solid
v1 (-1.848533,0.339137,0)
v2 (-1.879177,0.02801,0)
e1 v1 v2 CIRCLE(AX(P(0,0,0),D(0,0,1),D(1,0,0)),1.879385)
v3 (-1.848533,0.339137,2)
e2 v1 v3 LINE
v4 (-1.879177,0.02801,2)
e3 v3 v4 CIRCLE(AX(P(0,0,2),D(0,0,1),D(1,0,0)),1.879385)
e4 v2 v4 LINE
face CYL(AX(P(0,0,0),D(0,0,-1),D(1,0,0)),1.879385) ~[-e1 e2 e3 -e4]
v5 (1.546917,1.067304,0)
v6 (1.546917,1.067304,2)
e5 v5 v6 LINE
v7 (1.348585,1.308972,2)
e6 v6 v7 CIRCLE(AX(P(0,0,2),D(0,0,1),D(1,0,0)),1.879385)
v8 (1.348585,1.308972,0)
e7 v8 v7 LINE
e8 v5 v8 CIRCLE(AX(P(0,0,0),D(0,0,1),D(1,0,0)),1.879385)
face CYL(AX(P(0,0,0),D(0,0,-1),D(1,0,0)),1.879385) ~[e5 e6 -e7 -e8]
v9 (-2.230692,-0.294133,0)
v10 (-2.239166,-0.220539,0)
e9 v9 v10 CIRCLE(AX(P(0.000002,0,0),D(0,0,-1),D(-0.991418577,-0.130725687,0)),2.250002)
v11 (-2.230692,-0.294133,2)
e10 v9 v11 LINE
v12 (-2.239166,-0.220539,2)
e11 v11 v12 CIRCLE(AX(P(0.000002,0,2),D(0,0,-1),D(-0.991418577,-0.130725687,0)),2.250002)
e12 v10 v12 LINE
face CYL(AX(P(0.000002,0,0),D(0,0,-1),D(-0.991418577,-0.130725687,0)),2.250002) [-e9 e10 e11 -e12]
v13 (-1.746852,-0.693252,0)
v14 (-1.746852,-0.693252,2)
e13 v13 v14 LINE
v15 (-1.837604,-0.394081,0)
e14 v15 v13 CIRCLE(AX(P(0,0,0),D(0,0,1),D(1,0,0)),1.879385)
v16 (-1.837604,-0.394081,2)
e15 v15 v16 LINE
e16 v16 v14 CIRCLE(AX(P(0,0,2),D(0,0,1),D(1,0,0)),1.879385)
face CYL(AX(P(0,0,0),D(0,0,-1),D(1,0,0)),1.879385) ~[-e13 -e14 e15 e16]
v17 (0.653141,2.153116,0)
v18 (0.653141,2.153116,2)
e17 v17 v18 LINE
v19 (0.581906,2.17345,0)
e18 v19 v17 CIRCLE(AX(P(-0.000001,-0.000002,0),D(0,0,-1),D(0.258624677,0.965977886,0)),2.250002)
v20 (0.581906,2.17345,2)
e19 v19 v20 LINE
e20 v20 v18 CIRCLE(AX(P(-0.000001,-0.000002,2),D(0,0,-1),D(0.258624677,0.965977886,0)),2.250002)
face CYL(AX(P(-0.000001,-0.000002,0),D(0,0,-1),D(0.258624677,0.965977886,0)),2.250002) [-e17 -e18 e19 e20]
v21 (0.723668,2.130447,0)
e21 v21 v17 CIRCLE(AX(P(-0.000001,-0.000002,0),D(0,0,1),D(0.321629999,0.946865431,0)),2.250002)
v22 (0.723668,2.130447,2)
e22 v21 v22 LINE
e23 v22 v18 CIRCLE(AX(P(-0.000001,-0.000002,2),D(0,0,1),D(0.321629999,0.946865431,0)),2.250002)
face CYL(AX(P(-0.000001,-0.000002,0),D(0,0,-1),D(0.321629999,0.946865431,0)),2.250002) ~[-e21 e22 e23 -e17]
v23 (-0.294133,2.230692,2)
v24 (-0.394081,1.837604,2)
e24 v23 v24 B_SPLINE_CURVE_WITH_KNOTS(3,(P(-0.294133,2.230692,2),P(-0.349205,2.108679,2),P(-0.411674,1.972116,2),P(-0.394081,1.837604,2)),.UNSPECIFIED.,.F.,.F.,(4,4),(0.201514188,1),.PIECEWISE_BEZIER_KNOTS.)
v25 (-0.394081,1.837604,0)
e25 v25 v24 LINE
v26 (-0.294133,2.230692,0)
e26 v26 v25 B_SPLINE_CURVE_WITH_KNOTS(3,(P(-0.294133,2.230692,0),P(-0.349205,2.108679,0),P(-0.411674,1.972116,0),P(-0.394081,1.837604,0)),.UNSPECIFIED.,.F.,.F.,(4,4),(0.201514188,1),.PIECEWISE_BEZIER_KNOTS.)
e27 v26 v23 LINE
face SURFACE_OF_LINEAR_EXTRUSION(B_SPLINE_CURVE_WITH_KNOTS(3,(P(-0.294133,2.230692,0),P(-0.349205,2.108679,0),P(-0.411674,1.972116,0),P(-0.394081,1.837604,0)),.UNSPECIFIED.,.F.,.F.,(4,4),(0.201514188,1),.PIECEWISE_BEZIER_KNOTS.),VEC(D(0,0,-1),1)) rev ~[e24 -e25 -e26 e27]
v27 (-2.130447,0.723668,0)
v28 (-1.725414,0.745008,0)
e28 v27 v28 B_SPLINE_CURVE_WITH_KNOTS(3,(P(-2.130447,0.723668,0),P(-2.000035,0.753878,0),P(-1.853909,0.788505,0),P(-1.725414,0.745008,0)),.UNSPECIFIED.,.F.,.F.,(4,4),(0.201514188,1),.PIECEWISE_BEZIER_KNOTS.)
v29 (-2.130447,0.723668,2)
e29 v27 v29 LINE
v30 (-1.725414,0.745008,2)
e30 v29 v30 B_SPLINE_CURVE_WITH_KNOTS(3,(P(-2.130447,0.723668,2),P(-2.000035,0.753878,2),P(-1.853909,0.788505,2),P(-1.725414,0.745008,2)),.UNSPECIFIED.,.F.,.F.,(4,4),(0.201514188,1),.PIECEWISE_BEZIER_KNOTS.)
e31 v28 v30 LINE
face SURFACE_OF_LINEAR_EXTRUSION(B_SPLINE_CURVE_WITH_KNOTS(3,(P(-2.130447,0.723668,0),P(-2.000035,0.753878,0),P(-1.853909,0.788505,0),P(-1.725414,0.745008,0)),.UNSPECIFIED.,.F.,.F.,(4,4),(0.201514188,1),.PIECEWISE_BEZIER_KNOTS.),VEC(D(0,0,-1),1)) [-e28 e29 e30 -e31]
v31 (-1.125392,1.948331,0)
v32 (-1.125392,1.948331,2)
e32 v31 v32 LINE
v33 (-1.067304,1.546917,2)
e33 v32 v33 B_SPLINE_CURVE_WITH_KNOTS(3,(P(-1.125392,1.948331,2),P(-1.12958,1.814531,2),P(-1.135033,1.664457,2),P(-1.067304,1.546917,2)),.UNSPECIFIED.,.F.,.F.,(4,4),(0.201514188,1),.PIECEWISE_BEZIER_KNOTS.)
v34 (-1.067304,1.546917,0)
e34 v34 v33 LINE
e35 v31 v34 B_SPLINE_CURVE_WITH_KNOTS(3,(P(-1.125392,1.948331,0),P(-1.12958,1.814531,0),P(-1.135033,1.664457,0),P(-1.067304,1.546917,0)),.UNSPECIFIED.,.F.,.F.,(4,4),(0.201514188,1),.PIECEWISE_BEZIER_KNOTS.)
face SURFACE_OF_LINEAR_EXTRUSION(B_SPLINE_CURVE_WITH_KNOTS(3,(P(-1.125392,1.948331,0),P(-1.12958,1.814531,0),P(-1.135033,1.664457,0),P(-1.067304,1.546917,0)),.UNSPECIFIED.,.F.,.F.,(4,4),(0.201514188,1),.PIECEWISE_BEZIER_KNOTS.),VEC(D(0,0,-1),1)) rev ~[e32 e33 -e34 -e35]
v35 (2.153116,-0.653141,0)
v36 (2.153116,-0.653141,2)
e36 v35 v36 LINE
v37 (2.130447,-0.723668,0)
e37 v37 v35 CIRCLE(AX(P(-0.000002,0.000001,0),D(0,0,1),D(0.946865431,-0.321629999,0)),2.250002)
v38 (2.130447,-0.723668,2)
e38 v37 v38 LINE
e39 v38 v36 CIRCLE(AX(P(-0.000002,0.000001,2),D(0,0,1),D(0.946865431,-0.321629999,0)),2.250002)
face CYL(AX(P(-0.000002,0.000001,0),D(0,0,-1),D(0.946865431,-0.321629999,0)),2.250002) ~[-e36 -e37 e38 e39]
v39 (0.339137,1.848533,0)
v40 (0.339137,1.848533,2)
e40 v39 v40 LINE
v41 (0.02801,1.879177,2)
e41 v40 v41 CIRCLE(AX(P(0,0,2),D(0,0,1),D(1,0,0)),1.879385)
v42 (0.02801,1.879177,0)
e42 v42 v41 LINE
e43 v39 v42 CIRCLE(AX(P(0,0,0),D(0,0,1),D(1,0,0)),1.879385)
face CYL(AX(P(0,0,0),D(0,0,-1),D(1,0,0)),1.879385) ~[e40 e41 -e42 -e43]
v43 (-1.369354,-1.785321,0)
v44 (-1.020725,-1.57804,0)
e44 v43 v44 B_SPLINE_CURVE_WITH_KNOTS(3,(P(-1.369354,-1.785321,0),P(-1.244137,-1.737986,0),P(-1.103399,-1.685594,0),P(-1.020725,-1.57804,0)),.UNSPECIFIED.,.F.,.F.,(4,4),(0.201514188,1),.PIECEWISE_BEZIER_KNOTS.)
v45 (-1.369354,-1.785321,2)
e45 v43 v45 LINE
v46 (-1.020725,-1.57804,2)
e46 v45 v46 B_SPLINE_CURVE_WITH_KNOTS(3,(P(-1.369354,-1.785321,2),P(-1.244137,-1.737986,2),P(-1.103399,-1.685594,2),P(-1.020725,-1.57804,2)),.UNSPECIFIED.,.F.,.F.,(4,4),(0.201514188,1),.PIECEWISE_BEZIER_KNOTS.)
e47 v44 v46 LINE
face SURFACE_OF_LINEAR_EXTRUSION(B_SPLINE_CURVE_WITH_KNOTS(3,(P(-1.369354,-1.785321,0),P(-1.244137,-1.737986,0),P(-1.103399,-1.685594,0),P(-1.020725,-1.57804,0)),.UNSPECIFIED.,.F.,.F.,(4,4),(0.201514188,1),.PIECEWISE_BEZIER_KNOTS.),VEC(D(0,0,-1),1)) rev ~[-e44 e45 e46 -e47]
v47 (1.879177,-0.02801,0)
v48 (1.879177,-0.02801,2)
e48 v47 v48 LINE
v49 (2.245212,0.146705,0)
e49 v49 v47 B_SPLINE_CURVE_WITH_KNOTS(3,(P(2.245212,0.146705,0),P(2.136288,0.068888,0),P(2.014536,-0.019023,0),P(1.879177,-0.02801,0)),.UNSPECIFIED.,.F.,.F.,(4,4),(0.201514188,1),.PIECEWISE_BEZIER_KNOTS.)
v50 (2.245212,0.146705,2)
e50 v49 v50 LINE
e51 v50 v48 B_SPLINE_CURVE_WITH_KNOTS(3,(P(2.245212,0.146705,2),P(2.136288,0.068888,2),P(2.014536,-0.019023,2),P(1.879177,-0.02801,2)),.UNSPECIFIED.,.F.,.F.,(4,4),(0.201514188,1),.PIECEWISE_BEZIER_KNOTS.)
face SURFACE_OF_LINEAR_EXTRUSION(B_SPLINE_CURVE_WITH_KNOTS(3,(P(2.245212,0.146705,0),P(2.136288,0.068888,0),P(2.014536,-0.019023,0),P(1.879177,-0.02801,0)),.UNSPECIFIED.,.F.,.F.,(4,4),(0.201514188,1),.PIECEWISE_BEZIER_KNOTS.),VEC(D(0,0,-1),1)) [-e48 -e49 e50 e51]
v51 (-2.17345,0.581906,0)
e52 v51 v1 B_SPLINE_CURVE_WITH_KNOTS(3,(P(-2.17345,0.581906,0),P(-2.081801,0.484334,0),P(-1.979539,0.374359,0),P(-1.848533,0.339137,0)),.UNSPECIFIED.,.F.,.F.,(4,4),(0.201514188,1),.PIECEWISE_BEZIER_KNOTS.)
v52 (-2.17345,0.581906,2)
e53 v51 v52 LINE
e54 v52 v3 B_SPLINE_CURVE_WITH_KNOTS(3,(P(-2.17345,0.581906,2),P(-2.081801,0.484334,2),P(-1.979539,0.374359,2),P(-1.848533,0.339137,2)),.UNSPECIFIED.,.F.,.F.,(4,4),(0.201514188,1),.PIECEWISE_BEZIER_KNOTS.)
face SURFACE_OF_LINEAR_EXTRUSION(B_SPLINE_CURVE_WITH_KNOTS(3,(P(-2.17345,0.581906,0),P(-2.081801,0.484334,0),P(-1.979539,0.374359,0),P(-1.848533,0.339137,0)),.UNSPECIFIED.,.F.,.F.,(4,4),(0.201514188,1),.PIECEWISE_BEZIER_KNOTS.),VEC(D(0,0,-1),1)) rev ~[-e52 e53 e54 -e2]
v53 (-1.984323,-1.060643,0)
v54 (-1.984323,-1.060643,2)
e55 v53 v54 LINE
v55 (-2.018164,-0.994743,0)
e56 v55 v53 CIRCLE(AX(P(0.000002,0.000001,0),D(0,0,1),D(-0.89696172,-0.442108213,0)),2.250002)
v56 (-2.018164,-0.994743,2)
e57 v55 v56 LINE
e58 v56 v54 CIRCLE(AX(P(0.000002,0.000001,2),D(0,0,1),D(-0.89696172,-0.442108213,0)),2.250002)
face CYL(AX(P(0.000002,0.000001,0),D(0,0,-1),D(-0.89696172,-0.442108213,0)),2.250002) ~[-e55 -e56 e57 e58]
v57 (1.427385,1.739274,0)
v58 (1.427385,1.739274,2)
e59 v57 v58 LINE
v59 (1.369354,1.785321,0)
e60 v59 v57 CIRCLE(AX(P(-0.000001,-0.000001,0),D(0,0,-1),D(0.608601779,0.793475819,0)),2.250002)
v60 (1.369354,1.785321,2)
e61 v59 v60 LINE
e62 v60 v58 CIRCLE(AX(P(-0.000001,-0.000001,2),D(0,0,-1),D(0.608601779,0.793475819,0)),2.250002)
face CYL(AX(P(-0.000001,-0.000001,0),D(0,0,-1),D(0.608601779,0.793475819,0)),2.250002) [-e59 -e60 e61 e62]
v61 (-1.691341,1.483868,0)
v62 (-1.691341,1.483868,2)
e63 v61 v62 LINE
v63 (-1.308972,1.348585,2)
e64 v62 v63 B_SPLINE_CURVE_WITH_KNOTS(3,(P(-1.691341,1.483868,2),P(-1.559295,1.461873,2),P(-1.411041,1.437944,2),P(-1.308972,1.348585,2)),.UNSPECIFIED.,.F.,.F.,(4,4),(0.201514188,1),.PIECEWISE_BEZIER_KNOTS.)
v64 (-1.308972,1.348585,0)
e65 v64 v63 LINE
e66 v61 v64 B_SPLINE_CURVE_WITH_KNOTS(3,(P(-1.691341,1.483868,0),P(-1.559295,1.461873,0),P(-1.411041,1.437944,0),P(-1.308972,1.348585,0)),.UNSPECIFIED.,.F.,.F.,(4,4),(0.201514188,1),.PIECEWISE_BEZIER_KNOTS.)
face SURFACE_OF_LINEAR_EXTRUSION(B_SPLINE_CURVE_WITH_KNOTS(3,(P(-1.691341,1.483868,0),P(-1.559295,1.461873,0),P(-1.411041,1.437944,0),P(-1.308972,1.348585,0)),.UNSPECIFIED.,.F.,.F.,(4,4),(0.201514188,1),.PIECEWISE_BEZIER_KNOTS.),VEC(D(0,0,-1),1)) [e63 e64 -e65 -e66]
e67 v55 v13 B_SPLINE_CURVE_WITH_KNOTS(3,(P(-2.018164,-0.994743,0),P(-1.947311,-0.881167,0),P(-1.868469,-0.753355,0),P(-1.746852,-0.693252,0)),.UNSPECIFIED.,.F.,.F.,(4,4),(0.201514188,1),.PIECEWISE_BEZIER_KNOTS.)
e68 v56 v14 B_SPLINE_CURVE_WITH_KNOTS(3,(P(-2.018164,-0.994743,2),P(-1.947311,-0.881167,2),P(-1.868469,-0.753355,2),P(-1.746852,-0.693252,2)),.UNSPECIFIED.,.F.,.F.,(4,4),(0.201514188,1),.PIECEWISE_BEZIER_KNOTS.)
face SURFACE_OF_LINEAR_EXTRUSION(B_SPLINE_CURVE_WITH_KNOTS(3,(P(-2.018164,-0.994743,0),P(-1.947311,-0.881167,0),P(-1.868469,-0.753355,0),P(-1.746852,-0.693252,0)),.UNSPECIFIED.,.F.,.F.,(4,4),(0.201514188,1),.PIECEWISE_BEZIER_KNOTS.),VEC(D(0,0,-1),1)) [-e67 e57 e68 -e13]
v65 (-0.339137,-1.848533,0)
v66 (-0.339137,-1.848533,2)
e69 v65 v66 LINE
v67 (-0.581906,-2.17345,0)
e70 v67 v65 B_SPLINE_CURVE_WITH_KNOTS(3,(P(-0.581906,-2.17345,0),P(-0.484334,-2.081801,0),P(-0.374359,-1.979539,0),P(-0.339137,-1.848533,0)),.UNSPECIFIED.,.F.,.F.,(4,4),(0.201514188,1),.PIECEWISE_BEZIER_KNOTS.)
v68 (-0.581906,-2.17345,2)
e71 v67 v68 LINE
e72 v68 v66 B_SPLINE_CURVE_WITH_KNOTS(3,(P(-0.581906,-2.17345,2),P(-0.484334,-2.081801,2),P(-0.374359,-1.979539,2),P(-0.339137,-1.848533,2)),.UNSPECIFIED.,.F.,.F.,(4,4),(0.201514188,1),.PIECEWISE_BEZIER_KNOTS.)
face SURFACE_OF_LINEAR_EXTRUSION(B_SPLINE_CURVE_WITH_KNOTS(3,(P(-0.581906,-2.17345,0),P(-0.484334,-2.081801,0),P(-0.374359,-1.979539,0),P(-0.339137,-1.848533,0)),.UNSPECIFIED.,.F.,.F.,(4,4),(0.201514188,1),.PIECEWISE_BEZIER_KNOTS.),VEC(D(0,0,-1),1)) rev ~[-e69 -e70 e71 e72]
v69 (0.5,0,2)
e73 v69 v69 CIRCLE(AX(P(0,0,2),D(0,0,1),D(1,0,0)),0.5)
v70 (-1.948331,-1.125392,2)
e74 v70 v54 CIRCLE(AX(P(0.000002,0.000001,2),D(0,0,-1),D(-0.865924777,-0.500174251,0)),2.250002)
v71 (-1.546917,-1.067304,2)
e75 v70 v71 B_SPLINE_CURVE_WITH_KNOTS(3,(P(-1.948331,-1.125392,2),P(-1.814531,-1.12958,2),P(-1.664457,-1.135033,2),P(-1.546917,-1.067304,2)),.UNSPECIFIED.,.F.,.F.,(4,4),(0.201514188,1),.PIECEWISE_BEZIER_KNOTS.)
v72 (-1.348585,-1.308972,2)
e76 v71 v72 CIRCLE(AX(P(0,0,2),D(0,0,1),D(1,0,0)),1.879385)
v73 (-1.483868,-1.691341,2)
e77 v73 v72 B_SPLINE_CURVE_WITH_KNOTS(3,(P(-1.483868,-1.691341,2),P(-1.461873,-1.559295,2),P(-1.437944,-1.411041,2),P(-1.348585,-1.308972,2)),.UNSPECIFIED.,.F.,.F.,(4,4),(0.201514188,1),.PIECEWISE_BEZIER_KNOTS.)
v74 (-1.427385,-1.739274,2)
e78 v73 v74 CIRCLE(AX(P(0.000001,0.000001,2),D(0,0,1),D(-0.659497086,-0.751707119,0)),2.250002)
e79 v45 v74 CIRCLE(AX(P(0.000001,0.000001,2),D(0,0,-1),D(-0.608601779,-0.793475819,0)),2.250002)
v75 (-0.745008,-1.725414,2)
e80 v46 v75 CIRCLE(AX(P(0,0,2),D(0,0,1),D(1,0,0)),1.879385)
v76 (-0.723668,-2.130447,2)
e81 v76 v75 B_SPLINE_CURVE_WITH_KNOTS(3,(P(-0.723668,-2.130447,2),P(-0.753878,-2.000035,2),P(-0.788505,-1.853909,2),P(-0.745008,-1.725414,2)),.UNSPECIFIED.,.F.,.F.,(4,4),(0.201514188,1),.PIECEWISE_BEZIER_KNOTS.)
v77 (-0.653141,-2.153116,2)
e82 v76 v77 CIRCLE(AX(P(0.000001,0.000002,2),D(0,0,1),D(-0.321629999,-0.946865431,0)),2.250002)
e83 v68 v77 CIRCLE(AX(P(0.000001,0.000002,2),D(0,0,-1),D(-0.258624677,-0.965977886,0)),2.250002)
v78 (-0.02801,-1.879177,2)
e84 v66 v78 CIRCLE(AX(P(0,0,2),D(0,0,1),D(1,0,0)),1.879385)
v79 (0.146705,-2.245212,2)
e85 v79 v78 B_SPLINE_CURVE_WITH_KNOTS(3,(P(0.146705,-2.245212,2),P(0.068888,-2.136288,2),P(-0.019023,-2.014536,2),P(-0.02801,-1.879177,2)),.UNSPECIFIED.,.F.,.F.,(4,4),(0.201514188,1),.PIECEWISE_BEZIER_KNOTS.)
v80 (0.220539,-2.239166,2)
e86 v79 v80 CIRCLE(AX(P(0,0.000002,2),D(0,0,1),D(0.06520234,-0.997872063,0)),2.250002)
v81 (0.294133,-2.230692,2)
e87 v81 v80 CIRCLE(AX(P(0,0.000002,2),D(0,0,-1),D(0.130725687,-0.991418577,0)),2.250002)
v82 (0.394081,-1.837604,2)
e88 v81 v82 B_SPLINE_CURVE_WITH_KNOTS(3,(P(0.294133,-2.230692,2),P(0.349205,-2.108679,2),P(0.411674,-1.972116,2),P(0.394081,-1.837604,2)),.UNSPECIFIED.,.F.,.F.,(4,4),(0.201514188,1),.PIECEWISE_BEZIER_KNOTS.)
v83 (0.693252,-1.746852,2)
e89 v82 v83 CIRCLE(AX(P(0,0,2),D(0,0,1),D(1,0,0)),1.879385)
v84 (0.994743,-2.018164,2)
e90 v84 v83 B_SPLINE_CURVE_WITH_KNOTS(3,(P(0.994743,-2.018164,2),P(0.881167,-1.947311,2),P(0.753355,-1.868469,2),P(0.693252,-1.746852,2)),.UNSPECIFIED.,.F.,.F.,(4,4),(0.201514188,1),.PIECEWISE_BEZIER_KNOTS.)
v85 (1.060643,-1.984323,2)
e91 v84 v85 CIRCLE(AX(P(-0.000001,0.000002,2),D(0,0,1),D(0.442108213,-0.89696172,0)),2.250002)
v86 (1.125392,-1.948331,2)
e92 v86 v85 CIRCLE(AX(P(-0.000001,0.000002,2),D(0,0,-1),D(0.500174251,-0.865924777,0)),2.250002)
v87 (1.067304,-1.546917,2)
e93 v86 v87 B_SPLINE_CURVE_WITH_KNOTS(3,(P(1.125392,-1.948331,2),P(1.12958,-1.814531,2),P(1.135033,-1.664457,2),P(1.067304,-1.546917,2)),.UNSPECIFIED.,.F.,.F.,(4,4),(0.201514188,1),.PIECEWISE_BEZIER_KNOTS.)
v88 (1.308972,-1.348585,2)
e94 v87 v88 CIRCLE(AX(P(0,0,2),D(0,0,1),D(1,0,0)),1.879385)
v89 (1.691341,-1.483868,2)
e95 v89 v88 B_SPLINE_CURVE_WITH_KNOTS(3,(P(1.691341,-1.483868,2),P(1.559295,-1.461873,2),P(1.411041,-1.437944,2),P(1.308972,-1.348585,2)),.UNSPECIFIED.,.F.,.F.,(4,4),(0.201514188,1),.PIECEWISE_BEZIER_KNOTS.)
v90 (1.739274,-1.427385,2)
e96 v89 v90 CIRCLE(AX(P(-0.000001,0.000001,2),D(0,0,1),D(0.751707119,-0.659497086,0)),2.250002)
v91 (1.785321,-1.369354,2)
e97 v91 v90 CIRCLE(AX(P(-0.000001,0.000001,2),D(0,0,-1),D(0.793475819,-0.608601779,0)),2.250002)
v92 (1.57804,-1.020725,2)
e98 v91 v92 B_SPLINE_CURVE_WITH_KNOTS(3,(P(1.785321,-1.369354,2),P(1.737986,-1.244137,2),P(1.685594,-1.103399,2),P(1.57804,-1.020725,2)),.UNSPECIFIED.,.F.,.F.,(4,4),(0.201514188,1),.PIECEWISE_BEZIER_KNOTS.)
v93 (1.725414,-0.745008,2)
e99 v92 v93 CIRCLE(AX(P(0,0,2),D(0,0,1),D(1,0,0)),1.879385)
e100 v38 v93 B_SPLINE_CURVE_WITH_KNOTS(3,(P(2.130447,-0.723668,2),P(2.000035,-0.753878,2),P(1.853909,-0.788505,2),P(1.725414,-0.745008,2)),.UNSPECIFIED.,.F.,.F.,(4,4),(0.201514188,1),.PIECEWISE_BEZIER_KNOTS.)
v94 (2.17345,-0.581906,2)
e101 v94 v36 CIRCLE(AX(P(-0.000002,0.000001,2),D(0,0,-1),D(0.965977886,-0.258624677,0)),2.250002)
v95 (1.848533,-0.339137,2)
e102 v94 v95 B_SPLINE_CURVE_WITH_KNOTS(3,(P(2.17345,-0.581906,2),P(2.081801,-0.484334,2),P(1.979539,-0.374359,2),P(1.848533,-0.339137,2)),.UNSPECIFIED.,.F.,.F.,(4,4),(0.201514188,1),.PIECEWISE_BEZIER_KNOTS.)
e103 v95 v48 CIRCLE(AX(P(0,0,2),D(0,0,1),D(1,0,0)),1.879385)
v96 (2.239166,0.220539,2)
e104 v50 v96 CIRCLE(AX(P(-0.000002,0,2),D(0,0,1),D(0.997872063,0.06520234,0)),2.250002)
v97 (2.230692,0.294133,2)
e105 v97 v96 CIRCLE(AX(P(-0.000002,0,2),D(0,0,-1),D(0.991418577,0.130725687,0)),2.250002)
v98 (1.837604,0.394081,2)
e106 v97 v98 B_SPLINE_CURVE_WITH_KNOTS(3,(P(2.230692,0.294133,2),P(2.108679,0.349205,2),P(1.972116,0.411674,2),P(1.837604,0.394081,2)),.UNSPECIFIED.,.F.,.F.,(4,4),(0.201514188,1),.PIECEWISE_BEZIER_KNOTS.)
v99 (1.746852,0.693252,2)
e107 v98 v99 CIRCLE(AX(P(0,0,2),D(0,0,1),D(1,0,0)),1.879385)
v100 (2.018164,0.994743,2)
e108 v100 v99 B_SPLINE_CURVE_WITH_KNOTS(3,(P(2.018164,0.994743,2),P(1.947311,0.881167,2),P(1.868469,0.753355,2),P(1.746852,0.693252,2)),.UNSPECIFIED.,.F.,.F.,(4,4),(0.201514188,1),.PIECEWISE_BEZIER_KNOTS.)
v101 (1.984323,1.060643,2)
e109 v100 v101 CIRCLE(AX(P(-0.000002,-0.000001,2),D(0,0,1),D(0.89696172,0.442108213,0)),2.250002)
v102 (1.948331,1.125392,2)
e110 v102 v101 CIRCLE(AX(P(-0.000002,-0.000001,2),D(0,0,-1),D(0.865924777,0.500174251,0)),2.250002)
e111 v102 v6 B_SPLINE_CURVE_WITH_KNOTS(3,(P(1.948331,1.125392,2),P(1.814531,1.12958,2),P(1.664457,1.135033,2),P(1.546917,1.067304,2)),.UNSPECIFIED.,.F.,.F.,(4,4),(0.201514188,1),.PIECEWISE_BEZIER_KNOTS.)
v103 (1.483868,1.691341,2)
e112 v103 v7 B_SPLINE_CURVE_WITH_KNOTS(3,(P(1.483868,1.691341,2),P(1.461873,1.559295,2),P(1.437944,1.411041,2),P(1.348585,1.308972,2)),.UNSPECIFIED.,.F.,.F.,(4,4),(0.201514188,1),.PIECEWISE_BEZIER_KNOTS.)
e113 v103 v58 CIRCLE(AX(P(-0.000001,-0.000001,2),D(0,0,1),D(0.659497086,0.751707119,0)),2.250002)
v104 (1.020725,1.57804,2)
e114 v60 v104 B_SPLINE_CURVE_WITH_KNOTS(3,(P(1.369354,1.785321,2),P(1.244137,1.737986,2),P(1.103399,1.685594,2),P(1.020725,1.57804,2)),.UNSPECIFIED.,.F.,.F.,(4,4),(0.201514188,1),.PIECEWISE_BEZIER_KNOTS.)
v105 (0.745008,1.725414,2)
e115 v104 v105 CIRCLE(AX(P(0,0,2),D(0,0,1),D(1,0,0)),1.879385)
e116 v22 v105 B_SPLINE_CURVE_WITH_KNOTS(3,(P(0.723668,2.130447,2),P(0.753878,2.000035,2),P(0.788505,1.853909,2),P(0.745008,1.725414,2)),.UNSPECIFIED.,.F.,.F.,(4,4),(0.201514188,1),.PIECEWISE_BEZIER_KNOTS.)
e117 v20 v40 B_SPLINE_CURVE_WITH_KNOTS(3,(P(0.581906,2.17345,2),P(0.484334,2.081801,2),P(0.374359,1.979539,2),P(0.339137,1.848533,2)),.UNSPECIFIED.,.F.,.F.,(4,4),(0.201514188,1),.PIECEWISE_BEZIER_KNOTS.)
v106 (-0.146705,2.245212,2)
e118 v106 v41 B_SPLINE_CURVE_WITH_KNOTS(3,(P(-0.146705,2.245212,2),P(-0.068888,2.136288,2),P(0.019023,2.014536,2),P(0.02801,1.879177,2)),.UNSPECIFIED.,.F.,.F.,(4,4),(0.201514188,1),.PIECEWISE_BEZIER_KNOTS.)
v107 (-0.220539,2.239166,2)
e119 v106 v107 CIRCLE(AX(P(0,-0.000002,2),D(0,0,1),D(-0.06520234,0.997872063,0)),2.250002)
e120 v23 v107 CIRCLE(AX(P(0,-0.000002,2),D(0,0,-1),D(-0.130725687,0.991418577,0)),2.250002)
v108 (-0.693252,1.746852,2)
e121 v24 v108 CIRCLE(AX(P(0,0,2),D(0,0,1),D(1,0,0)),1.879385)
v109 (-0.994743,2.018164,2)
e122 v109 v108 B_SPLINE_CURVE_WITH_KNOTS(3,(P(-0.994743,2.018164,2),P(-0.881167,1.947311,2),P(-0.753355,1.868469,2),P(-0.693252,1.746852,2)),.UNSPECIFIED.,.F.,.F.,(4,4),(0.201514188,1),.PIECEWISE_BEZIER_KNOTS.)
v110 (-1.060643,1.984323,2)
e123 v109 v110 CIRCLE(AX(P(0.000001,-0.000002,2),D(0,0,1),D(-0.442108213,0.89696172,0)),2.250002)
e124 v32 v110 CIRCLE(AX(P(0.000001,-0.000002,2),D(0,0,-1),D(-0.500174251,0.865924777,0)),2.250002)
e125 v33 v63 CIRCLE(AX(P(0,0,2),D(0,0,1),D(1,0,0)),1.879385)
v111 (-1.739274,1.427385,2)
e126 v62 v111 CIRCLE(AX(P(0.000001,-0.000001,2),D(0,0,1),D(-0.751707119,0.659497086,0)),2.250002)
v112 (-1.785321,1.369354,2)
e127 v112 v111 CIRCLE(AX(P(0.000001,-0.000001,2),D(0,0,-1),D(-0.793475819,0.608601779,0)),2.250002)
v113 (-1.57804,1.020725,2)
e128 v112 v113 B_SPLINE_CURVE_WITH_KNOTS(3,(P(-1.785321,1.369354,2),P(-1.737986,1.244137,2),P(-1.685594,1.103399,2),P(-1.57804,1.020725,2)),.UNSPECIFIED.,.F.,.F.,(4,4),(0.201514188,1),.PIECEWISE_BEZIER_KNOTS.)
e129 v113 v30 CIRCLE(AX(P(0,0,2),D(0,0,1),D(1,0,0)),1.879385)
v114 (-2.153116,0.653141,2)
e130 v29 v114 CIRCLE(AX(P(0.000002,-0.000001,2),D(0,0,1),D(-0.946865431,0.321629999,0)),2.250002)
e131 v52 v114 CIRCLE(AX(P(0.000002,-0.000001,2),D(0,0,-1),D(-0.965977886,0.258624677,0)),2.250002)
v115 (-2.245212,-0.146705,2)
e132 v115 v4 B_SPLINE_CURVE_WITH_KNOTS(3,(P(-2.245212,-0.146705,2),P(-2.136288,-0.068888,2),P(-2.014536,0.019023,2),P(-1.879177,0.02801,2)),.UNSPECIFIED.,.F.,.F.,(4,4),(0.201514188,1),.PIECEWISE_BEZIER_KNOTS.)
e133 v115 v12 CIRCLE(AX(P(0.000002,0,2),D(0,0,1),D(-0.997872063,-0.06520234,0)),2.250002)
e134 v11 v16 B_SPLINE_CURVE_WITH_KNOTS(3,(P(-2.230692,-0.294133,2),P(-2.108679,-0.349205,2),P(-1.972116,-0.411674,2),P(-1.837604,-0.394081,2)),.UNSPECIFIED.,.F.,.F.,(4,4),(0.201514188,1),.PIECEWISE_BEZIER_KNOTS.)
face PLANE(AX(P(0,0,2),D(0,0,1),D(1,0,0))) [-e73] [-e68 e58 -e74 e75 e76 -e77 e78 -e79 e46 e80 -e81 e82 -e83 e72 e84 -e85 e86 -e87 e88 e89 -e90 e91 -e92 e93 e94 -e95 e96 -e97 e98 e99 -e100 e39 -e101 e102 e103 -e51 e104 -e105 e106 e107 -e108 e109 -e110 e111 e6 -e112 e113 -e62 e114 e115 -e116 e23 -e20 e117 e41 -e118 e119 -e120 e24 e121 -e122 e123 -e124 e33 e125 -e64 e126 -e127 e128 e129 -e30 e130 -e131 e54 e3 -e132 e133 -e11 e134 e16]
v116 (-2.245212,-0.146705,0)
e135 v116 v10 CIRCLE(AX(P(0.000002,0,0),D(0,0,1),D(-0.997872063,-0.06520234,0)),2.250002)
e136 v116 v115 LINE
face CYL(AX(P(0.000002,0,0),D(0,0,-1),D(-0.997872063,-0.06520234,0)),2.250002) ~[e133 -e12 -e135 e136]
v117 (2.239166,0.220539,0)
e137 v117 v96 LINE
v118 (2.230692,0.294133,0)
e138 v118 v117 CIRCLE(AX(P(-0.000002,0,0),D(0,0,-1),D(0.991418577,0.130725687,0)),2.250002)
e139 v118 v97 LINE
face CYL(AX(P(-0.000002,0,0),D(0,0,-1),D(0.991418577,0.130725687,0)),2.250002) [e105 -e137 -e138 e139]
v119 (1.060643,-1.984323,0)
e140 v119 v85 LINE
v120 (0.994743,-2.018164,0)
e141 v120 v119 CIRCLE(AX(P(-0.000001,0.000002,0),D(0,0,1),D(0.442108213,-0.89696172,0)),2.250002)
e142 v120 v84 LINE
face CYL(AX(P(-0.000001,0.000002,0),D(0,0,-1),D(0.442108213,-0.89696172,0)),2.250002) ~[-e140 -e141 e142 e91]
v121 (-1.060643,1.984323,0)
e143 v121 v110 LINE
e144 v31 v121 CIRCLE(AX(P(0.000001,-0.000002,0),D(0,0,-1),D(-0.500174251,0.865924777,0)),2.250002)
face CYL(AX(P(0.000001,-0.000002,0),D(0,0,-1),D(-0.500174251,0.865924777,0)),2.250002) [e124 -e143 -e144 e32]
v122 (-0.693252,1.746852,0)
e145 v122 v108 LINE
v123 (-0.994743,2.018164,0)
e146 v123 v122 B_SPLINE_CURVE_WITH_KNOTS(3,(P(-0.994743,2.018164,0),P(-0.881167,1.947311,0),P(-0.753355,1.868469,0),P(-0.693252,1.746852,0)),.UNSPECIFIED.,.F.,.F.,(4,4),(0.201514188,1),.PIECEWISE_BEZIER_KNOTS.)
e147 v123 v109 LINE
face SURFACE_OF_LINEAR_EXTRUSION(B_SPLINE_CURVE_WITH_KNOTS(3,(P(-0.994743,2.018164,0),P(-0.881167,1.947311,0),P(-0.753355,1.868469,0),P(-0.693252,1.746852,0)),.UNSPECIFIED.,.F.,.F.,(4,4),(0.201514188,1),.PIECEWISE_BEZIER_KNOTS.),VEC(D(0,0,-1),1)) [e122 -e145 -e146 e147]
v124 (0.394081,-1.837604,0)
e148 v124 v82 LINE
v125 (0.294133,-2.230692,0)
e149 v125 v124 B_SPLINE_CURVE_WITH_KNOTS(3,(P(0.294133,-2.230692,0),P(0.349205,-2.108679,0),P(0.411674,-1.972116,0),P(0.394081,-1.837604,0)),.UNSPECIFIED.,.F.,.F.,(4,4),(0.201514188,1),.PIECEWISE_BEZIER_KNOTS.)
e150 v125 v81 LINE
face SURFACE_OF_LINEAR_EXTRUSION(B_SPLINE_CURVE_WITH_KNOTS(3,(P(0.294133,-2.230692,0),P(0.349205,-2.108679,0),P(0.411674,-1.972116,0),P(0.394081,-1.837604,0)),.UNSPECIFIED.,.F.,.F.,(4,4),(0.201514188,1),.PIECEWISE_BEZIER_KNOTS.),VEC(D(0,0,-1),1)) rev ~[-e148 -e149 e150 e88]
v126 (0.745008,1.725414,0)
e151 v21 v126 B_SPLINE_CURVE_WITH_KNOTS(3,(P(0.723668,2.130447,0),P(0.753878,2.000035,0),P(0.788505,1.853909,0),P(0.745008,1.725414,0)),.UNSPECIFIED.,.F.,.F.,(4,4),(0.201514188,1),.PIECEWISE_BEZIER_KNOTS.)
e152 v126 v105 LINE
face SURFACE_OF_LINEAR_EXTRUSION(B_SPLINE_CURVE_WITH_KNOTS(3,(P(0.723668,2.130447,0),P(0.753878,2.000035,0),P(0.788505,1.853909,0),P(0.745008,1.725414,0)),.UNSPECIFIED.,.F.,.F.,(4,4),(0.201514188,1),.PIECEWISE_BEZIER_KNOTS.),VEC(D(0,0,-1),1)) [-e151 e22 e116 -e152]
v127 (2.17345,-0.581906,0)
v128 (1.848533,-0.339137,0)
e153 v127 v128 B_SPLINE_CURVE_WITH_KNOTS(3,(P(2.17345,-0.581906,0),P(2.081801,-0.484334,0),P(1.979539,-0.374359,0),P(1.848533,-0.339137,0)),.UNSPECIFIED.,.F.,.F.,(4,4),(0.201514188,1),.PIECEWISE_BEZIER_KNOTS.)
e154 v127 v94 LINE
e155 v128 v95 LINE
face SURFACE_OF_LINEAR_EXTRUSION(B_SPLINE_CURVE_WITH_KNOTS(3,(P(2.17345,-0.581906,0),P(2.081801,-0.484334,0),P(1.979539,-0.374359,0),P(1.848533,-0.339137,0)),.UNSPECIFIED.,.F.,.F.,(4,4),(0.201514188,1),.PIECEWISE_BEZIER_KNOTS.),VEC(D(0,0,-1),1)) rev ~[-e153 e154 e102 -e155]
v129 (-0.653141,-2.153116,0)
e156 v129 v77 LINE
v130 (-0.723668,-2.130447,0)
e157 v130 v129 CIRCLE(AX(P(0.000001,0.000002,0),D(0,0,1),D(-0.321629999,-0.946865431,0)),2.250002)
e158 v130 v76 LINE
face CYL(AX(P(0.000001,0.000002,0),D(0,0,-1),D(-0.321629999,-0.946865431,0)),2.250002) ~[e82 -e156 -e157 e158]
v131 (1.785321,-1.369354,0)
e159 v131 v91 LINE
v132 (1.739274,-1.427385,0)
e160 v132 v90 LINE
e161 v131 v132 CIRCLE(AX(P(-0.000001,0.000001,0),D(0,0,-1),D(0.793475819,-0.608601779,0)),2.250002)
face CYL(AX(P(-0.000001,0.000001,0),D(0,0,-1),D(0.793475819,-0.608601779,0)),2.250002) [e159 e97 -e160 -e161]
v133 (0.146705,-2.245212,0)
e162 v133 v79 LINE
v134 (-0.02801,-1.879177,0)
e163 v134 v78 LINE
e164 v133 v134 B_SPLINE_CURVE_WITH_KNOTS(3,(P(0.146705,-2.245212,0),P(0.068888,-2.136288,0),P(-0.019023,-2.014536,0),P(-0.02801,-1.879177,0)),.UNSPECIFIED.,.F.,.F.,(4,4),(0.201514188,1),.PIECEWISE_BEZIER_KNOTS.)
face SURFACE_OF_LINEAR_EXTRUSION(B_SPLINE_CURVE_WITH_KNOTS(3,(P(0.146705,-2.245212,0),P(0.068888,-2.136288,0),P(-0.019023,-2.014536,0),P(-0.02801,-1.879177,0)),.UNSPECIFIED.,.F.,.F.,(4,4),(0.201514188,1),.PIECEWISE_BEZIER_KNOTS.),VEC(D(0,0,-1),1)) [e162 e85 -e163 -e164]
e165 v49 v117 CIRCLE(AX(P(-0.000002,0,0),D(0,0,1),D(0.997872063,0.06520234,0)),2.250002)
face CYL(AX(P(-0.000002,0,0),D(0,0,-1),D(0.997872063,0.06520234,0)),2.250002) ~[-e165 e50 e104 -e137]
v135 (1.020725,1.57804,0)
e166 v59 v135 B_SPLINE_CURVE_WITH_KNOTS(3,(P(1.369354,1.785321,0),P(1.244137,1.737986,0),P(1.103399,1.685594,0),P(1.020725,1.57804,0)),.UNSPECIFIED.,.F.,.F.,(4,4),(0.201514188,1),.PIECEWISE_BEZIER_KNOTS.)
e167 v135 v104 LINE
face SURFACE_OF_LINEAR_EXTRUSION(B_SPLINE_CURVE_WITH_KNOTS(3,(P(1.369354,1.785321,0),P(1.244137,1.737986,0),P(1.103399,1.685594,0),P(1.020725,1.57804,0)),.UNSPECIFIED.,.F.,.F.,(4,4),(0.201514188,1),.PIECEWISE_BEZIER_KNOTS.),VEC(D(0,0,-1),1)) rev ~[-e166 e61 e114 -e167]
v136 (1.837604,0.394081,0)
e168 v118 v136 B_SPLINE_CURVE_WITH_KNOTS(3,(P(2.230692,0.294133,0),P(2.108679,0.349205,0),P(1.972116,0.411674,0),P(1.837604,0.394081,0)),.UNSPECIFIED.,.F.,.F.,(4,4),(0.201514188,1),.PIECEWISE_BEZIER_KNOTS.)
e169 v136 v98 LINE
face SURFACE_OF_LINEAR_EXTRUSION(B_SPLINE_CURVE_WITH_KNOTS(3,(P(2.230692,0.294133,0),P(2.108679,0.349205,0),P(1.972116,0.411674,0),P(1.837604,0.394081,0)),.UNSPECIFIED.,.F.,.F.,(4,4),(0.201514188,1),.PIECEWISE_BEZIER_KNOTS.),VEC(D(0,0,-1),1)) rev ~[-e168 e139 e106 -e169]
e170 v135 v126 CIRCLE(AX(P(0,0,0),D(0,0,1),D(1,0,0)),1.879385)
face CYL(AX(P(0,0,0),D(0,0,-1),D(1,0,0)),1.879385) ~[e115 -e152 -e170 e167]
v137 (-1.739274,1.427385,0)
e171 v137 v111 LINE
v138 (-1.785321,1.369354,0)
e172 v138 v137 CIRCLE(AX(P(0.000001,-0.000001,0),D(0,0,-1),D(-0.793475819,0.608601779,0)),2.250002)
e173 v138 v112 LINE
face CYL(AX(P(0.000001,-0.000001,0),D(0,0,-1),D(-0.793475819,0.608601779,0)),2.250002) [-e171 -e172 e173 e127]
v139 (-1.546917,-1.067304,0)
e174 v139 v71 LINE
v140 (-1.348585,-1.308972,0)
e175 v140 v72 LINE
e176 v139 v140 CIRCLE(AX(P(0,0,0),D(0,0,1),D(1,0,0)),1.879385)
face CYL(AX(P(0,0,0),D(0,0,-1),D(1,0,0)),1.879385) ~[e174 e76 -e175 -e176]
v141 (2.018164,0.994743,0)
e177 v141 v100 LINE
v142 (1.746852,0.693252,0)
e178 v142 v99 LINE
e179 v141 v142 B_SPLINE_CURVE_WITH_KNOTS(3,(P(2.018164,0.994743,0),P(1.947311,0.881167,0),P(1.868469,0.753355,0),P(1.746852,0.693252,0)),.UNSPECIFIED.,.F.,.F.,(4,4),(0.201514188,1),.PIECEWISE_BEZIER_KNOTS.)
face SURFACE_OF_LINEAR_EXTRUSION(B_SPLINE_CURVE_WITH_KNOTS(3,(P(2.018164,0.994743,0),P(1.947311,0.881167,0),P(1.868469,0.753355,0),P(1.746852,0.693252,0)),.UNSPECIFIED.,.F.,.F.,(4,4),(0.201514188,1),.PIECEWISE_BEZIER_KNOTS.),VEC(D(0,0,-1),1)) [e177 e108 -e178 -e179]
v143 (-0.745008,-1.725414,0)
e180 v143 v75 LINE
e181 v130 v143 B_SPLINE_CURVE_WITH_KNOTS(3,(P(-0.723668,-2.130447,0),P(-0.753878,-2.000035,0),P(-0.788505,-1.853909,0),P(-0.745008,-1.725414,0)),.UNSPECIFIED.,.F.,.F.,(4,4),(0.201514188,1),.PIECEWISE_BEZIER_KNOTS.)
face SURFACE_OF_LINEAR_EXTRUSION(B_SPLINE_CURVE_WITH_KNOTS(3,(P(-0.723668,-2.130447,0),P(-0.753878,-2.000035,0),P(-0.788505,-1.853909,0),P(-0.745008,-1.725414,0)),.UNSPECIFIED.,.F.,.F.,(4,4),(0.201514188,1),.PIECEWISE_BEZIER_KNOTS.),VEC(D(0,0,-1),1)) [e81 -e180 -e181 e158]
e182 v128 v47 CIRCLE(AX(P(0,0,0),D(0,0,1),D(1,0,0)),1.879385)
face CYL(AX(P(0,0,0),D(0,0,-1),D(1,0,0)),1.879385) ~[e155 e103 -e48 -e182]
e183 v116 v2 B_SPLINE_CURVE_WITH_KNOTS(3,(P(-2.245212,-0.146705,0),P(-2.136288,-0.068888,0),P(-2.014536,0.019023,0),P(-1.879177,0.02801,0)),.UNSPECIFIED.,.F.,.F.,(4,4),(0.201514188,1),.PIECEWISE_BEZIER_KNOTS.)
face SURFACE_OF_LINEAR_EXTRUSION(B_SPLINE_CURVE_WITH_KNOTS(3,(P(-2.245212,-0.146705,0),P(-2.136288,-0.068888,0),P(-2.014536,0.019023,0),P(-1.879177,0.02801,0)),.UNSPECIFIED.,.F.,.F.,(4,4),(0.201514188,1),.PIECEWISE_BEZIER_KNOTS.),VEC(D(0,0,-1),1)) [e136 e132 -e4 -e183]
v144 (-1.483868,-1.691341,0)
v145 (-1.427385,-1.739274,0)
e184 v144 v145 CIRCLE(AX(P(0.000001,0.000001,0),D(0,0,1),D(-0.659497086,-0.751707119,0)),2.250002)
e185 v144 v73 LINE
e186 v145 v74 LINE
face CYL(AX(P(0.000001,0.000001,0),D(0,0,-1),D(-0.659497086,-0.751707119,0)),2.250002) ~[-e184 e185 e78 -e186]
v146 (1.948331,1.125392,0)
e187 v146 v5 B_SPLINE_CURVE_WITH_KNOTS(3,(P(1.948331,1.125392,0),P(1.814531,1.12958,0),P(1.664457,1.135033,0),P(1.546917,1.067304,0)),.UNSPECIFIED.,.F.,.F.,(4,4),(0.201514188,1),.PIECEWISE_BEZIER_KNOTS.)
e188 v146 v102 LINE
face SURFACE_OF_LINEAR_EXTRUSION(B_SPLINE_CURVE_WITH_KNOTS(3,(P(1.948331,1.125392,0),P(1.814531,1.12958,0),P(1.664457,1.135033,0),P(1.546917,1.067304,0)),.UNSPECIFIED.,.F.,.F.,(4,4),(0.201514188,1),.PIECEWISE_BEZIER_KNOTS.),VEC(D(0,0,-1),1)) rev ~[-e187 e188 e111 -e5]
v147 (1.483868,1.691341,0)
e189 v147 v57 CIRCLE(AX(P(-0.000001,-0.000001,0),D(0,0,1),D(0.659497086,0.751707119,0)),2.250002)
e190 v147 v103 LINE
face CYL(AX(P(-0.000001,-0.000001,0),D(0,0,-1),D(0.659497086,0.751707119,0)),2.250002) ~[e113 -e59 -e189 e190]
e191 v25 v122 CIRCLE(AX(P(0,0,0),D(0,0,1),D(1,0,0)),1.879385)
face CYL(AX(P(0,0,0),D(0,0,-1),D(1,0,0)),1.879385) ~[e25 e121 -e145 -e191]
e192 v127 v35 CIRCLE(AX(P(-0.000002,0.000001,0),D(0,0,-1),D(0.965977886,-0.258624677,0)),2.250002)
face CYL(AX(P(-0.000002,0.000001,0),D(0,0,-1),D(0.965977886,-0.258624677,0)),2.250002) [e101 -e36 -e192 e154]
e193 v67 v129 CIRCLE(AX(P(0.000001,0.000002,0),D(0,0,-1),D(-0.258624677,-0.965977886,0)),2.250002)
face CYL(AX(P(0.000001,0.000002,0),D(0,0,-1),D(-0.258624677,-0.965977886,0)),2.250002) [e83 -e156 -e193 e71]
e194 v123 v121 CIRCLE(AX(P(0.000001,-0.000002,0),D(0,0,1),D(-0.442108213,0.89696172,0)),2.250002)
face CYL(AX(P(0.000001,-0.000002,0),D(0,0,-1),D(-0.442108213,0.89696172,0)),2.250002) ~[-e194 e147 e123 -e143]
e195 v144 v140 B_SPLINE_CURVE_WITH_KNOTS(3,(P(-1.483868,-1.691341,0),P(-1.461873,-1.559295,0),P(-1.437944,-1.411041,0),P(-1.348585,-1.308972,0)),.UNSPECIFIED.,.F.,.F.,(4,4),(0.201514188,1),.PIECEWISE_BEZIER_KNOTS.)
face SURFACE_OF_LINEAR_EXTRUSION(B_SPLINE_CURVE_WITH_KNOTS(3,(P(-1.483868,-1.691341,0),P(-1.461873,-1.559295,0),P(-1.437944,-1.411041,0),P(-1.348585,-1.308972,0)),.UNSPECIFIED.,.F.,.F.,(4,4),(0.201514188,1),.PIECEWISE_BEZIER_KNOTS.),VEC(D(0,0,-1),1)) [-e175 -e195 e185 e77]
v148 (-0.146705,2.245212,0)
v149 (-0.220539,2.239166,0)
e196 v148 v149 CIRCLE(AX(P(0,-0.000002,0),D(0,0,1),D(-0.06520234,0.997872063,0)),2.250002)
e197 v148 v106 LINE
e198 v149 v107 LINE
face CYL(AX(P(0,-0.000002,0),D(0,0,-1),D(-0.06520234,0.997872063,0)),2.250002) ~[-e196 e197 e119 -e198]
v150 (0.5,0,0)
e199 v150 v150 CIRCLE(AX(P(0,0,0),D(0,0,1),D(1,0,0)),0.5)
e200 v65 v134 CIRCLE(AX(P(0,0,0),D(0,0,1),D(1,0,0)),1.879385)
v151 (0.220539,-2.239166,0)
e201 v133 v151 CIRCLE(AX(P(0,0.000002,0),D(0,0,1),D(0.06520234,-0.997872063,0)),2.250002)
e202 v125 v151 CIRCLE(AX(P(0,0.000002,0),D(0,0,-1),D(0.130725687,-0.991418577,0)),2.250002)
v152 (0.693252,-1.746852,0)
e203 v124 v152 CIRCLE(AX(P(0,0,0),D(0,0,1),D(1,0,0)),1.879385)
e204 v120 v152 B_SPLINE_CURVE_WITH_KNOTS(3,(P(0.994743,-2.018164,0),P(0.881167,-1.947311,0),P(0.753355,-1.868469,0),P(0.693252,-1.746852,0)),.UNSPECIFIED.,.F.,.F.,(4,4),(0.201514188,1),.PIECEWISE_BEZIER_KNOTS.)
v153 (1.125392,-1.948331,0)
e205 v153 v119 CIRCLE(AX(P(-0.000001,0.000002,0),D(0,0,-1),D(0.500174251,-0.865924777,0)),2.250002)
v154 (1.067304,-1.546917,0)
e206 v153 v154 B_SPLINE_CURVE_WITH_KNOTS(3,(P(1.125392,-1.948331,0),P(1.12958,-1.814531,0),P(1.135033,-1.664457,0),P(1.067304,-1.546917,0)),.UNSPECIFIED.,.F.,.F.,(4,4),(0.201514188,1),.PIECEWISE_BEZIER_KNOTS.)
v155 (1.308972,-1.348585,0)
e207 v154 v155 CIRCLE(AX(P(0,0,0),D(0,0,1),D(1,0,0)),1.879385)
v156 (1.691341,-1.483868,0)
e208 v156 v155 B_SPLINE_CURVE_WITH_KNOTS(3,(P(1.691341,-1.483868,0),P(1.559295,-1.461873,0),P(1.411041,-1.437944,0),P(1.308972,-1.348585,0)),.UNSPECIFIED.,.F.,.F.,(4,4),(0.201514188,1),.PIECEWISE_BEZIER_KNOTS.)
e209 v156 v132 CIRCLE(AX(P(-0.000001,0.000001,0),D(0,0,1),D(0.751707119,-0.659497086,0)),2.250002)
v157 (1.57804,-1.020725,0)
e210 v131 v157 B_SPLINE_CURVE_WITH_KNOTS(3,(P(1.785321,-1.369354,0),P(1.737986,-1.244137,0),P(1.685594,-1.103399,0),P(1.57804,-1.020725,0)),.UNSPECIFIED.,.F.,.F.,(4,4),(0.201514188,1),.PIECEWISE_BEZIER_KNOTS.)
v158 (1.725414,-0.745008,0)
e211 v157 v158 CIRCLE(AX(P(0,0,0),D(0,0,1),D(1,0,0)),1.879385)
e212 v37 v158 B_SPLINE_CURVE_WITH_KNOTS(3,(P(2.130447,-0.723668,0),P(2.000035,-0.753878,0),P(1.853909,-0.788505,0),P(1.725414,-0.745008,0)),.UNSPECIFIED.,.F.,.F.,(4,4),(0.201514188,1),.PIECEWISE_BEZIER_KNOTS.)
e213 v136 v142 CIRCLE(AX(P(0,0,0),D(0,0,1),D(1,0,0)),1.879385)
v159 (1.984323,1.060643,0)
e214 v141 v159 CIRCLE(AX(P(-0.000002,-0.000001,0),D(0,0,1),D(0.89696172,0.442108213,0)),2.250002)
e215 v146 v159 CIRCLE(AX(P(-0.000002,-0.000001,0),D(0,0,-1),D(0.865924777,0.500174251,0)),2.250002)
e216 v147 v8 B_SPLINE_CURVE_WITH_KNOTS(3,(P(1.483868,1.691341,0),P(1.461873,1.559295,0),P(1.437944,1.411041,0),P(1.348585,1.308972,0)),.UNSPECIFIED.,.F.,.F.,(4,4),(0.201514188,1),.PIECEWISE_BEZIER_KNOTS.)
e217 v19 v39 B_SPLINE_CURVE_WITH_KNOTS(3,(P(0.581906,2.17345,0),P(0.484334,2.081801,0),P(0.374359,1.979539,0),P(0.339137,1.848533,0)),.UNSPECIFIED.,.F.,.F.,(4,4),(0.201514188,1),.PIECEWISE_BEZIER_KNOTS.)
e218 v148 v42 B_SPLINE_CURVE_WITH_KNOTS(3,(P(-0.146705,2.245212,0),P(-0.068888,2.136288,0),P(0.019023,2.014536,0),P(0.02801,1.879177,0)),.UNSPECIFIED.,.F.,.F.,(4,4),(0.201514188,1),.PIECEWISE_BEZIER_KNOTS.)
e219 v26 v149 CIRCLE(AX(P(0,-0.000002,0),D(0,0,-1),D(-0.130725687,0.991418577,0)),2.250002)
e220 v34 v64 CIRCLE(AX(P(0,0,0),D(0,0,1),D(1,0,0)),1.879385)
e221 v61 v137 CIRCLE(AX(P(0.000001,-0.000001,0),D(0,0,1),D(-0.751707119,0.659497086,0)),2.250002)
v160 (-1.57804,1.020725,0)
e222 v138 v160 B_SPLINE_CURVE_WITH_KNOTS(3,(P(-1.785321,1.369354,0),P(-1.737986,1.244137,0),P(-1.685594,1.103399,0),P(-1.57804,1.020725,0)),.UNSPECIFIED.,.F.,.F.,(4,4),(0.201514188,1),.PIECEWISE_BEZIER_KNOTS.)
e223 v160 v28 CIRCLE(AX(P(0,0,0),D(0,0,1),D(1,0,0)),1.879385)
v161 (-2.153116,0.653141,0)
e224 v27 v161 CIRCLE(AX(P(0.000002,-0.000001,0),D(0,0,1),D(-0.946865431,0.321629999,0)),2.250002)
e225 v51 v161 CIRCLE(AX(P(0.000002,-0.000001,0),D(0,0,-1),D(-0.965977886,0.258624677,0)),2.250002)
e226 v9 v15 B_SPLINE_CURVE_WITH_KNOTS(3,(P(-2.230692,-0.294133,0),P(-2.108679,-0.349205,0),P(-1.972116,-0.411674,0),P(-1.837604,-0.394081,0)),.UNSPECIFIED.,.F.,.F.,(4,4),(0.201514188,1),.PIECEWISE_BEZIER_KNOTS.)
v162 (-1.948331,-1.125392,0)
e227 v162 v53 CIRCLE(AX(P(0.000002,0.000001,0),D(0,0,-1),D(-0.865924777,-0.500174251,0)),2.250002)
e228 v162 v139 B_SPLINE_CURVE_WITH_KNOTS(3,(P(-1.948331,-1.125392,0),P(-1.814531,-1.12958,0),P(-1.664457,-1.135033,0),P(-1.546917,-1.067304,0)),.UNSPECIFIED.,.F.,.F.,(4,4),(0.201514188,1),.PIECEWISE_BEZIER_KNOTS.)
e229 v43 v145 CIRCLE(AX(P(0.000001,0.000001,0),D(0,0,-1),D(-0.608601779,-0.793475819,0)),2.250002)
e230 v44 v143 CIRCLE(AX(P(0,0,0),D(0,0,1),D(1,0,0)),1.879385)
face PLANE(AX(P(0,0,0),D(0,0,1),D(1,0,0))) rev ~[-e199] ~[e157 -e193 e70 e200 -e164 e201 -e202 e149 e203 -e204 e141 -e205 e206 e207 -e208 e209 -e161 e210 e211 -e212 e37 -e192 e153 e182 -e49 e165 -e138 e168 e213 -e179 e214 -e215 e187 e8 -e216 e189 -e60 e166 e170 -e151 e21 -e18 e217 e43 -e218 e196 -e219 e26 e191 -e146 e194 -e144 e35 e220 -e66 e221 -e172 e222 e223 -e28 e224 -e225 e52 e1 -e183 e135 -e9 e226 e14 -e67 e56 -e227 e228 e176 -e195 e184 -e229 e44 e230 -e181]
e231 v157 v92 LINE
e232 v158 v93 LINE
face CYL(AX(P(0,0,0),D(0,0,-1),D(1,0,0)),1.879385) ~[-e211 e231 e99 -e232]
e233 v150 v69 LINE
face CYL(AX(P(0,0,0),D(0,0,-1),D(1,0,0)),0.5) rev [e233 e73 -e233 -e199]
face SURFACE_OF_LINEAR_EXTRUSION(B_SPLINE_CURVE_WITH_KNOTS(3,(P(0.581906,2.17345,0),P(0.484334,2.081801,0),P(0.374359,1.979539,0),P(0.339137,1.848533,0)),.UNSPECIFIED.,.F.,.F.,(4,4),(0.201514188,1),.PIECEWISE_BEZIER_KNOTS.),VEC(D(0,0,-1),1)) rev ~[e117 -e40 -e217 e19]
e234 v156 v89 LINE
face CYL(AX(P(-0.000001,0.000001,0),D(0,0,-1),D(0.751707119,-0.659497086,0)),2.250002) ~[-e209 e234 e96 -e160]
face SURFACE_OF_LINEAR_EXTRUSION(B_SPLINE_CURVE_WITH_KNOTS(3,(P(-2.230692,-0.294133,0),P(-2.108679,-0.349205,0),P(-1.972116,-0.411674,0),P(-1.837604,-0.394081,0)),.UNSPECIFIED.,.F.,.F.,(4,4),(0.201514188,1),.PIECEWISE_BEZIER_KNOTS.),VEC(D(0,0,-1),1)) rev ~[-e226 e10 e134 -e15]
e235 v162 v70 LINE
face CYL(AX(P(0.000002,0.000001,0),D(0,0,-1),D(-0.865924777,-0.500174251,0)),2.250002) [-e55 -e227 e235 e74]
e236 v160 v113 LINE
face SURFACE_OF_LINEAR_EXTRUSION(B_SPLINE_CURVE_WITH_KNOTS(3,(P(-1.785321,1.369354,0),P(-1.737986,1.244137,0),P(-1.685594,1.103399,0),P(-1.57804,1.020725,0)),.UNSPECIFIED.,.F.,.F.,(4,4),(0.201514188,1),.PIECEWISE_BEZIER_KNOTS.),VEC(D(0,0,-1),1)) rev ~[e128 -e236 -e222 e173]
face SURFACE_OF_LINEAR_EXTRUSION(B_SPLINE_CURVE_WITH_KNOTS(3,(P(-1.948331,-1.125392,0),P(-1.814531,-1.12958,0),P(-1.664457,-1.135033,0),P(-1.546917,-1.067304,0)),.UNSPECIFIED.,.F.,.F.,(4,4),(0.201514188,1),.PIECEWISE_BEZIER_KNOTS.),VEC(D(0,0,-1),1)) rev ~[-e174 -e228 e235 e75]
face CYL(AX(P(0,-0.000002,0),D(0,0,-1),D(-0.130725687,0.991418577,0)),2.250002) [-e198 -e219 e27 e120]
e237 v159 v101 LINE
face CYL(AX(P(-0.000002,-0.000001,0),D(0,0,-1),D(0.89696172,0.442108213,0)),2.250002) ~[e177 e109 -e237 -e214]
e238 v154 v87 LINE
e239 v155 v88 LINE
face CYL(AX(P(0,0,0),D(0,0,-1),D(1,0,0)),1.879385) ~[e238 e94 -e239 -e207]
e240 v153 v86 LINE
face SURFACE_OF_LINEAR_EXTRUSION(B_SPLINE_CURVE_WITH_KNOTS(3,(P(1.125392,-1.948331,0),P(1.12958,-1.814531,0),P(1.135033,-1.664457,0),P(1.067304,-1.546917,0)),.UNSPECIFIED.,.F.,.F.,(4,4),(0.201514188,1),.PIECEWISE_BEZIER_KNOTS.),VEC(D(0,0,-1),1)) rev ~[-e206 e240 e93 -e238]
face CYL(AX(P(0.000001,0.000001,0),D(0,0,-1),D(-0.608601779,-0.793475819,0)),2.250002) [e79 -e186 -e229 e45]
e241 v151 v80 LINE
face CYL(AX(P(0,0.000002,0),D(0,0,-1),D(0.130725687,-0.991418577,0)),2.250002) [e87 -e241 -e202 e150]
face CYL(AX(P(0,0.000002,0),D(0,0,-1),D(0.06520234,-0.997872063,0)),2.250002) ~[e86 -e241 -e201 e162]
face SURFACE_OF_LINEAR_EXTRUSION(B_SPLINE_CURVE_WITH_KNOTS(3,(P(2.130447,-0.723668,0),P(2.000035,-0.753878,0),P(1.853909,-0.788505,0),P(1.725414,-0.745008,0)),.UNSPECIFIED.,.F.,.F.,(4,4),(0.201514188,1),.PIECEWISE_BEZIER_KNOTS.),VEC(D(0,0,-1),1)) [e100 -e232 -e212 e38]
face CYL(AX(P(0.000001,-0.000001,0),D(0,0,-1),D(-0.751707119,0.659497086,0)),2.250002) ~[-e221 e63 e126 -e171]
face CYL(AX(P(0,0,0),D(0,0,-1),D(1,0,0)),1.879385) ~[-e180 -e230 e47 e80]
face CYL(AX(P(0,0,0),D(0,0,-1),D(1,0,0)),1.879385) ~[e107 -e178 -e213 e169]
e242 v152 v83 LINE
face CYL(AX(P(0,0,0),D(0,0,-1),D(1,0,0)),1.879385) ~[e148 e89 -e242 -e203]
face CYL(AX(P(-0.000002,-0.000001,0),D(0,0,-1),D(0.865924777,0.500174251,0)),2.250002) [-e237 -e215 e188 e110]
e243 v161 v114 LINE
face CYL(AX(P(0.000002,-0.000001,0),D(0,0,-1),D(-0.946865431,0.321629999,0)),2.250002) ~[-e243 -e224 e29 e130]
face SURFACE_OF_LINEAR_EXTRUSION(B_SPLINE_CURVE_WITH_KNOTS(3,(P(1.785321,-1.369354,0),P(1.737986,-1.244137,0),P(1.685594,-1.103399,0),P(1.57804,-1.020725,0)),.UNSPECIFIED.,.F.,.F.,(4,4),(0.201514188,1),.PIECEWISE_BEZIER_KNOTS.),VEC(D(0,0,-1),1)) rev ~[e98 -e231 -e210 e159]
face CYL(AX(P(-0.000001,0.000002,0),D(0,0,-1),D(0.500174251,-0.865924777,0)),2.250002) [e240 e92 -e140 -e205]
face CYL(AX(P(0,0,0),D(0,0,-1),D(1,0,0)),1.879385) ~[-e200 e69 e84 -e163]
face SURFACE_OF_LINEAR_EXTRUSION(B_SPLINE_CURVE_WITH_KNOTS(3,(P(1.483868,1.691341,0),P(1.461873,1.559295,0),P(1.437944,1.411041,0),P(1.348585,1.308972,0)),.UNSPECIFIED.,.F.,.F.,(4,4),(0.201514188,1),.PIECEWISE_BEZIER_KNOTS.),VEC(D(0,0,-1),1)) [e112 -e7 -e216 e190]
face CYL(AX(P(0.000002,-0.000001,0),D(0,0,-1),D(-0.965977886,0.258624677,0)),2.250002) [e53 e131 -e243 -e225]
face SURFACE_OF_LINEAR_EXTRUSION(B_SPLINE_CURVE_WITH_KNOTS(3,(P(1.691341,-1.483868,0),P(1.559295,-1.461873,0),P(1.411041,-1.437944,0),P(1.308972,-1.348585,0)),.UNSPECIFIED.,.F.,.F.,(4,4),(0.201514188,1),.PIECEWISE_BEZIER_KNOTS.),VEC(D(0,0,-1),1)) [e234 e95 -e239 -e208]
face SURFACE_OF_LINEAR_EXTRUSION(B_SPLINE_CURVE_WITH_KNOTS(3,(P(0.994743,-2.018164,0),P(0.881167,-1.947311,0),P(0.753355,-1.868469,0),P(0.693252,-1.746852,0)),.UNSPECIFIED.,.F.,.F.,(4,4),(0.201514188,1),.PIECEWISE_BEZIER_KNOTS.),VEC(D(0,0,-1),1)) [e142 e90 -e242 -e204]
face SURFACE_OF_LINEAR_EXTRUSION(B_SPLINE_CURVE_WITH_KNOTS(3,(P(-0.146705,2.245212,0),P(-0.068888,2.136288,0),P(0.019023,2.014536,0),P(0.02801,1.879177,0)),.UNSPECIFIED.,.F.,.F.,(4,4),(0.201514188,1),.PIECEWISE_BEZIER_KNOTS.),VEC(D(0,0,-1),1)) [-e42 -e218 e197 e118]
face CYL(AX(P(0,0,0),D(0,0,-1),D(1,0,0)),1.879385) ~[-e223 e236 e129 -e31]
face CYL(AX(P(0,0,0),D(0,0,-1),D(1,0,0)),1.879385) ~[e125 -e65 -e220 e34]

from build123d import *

# Parameters (mm, degrees)
BOSS_EXTRUDE7_DEPTH = 2
CIRPATTERN1_COUNT   = 16
DIAMETRO_BASE_R     = 1.879385242
BOSS_EXTRUDE9_DEPTH = 2
MOZZO_R             = 0.5
CUT_EXTRUDE1_DEPTH  = 2


with BuildPart() as part:
    # profilo → Boss-Extrude7 (new body)
    with BuildSketch(Plane.XY):
        with BuildLine():
            Line((-0.220538566, 2.239165635), (-0.184211967, 1.870335488))
            ThreePointArc((-0.184211967, 1.870335488), (-0.078225963, 1.87775653), (0.028010042, 1.879176501))
            add(Edge.make_bspline(
                [(-0.14670524, 2.245212144), (-0.068888242, 2.136288179), (0.01902302, 2.014536344), (0.028010042, 1.879176501)],
                knots=[0.201514188, 0.201514188, 0.201514188, 0.201514188, 1, 1, 1, 1], degree=3))
            ThreePointArc((-0.14670524, 2.245212144), (-0.18364679, 2.242492777), (-0.220538566, 2.239165635))
        make_face()
    extrude(amount=BOSS_EXTRUDE7_DEPTH)

    # Mirror1: part across plane


with BuildPart() as part_1:
    add(part.part)
    add(part.part.mirror(Plane(origin=(0, 0, 0), x_dir=(0, 0, 1), z_dir=(0.9951847266721969, 0.09801714032956144, 0))))


with BuildPart() as cirpattern1_1:
    # CirPattern1: pattern copy
    add(part_1.part.rotate(Axis((0, 0, 2), (0, 0, 1)), 1 * 360 / CIRPATTERN1_COUNT))


with BuildPart() as cirpattern1_2:
    # CirPattern1: pattern copy
    add(part_1.part.rotate(Axis((0, 0, 2), (0, 0, 1)), 2 * 360 / CIRPATTERN1_COUNT))


with BuildPart() as cirpattern1_3:
    # CirPattern1: pattern copy
    add(part_1.part.rotate(Axis((0, 0, 2), (0, 0, 1)), 3 * 360 / CIRPATTERN1_COUNT))


with BuildPart() as cirpattern1_4:
    # CirPattern1: pattern copy
    add(part_1.part.rotate(Axis((0, 0, 2), (0, 0, 1)), 4 * 360 / CIRPATTERN1_COUNT))


with BuildPart() as cirpattern1_5:
    # CirPattern1: pattern copy
    add(part_1.part.rotate(Axis((0, 0, 2), (0, 0, 1)), 5 * 360 / CIRPATTERN1_COUNT))


with BuildPart() as cirpattern1_6:
    # CirPattern1: pattern copy
    add(part_1.part.rotate(Axis((0, 0, 2), (0, 0, 1)), 6 * 360 / CIRPATTERN1_COUNT))


with BuildPart() as cirpattern1_7:
    # CirPattern1: pattern copy
    add(part_1.part.rotate(Axis((0, 0, 2), (0, 0, 1)), 7 * 360 / CIRPATTERN1_COUNT))


with BuildPart() as cirpattern1_8:
    # CirPattern1: pattern copy
    add(part_1.part.rotate(Axis((0, 0, 2), (0, 0, 1)), 8 * 360 / CIRPATTERN1_COUNT))


with BuildPart() as cirpattern1_9:
    # CirPattern1: pattern copy
    add(part_1.part.rotate(Axis((0, 0, 2), (0, 0, 1)), 9 * 360 / CIRPATTERN1_COUNT))


with BuildPart() as cirpattern1_10:
    # CirPattern1: pattern copy
    add(part_1.part.rotate(Axis((0, 0, 2), (0, 0, 1)), 10 * 360 / CIRPATTERN1_COUNT))


with BuildPart() as cirpattern1_11:
    # CirPattern1: pattern copy
    add(part_1.part.rotate(Axis((0, 0, 2), (0, 0, 1)), 11 * 360 / CIRPATTERN1_COUNT))


with BuildPart() as cirpattern1_12:
    # CirPattern1: pattern copy
    add(part_1.part.rotate(Axis((0, 0, 2), (0, 0, 1)), 12 * 360 / CIRPATTERN1_COUNT))


with BuildPart() as cirpattern1_13:
    # CirPattern1: pattern copy
    add(part_1.part.rotate(Axis((0, 0, 2), (0, 0, 1)), 13 * 360 / CIRPATTERN1_COUNT))


with BuildPart() as cirpattern1_14:
    # CirPattern1: pattern copy
    add(part_1.part.rotate(Axis((0, 0, 2), (0, 0, 1)), 14 * 360 / CIRPATTERN1_COUNT))


with BuildPart() as cirpattern1_15:
    # CirPattern1: pattern copy
    add(part_1.part.rotate(Axis((0, 0, 2), (0, 0, 1)), 15 * 360 / CIRPATTERN1_COUNT))


with BuildPart() as part_2:
    add(part_1.part)

    add(cirpattern1_1.part)  # Boss-Extrude9 merges CirPattern1_1

    add(cirpattern1_2.part)  # Boss-Extrude9 merges CirPattern1_2

    add(cirpattern1_3.part)  # Boss-Extrude9 merges CirPattern1_3

    add(cirpattern1_4.part)  # Boss-Extrude9 merges CirPattern1_4

    add(cirpattern1_5.part)  # Boss-Extrude9 merges CirPattern1_5

    add(cirpattern1_6.part)  # Boss-Extrude9 merges CirPattern1_6

    add(cirpattern1_7.part)  # Boss-Extrude9 merges CirPattern1_7

    add(cirpattern1_8.part)  # Boss-Extrude9 merges CirPattern1_8

    add(cirpattern1_9.part)  # Boss-Extrude9 merges CirPattern1_9

    add(cirpattern1_10.part)  # Boss-Extrude9 merges CirPattern1_10

    add(cirpattern1_11.part)  # Boss-Extrude9 merges CirPattern1_11

    add(cirpattern1_12.part)  # Boss-Extrude9 merges CirPattern1_12

    add(cirpattern1_13.part)  # Boss-Extrude9 merges CirPattern1_13

    add(cirpattern1_14.part)  # Boss-Extrude9 merges CirPattern1_14

    add(cirpattern1_15.part)  # Boss-Extrude9 merges CirPattern1_15
    # diametro base → Boss-Extrude9 (add)
    with BuildSketch(Plane.XY):
        Circle(DIAMETRO_BASE_R)
    extrude(amount=BOSS_EXTRUDE9_DEPTH)

    # mozzo → Cut-Extrude1 (cut)
    with BuildSketch(Plane.XY):
        Circle(MOZZO_R)
    extrude(amount=CUT_EXTRUDE1_DEPTH, mode=Mode.SUBTRACT)


solid = part_2.part
